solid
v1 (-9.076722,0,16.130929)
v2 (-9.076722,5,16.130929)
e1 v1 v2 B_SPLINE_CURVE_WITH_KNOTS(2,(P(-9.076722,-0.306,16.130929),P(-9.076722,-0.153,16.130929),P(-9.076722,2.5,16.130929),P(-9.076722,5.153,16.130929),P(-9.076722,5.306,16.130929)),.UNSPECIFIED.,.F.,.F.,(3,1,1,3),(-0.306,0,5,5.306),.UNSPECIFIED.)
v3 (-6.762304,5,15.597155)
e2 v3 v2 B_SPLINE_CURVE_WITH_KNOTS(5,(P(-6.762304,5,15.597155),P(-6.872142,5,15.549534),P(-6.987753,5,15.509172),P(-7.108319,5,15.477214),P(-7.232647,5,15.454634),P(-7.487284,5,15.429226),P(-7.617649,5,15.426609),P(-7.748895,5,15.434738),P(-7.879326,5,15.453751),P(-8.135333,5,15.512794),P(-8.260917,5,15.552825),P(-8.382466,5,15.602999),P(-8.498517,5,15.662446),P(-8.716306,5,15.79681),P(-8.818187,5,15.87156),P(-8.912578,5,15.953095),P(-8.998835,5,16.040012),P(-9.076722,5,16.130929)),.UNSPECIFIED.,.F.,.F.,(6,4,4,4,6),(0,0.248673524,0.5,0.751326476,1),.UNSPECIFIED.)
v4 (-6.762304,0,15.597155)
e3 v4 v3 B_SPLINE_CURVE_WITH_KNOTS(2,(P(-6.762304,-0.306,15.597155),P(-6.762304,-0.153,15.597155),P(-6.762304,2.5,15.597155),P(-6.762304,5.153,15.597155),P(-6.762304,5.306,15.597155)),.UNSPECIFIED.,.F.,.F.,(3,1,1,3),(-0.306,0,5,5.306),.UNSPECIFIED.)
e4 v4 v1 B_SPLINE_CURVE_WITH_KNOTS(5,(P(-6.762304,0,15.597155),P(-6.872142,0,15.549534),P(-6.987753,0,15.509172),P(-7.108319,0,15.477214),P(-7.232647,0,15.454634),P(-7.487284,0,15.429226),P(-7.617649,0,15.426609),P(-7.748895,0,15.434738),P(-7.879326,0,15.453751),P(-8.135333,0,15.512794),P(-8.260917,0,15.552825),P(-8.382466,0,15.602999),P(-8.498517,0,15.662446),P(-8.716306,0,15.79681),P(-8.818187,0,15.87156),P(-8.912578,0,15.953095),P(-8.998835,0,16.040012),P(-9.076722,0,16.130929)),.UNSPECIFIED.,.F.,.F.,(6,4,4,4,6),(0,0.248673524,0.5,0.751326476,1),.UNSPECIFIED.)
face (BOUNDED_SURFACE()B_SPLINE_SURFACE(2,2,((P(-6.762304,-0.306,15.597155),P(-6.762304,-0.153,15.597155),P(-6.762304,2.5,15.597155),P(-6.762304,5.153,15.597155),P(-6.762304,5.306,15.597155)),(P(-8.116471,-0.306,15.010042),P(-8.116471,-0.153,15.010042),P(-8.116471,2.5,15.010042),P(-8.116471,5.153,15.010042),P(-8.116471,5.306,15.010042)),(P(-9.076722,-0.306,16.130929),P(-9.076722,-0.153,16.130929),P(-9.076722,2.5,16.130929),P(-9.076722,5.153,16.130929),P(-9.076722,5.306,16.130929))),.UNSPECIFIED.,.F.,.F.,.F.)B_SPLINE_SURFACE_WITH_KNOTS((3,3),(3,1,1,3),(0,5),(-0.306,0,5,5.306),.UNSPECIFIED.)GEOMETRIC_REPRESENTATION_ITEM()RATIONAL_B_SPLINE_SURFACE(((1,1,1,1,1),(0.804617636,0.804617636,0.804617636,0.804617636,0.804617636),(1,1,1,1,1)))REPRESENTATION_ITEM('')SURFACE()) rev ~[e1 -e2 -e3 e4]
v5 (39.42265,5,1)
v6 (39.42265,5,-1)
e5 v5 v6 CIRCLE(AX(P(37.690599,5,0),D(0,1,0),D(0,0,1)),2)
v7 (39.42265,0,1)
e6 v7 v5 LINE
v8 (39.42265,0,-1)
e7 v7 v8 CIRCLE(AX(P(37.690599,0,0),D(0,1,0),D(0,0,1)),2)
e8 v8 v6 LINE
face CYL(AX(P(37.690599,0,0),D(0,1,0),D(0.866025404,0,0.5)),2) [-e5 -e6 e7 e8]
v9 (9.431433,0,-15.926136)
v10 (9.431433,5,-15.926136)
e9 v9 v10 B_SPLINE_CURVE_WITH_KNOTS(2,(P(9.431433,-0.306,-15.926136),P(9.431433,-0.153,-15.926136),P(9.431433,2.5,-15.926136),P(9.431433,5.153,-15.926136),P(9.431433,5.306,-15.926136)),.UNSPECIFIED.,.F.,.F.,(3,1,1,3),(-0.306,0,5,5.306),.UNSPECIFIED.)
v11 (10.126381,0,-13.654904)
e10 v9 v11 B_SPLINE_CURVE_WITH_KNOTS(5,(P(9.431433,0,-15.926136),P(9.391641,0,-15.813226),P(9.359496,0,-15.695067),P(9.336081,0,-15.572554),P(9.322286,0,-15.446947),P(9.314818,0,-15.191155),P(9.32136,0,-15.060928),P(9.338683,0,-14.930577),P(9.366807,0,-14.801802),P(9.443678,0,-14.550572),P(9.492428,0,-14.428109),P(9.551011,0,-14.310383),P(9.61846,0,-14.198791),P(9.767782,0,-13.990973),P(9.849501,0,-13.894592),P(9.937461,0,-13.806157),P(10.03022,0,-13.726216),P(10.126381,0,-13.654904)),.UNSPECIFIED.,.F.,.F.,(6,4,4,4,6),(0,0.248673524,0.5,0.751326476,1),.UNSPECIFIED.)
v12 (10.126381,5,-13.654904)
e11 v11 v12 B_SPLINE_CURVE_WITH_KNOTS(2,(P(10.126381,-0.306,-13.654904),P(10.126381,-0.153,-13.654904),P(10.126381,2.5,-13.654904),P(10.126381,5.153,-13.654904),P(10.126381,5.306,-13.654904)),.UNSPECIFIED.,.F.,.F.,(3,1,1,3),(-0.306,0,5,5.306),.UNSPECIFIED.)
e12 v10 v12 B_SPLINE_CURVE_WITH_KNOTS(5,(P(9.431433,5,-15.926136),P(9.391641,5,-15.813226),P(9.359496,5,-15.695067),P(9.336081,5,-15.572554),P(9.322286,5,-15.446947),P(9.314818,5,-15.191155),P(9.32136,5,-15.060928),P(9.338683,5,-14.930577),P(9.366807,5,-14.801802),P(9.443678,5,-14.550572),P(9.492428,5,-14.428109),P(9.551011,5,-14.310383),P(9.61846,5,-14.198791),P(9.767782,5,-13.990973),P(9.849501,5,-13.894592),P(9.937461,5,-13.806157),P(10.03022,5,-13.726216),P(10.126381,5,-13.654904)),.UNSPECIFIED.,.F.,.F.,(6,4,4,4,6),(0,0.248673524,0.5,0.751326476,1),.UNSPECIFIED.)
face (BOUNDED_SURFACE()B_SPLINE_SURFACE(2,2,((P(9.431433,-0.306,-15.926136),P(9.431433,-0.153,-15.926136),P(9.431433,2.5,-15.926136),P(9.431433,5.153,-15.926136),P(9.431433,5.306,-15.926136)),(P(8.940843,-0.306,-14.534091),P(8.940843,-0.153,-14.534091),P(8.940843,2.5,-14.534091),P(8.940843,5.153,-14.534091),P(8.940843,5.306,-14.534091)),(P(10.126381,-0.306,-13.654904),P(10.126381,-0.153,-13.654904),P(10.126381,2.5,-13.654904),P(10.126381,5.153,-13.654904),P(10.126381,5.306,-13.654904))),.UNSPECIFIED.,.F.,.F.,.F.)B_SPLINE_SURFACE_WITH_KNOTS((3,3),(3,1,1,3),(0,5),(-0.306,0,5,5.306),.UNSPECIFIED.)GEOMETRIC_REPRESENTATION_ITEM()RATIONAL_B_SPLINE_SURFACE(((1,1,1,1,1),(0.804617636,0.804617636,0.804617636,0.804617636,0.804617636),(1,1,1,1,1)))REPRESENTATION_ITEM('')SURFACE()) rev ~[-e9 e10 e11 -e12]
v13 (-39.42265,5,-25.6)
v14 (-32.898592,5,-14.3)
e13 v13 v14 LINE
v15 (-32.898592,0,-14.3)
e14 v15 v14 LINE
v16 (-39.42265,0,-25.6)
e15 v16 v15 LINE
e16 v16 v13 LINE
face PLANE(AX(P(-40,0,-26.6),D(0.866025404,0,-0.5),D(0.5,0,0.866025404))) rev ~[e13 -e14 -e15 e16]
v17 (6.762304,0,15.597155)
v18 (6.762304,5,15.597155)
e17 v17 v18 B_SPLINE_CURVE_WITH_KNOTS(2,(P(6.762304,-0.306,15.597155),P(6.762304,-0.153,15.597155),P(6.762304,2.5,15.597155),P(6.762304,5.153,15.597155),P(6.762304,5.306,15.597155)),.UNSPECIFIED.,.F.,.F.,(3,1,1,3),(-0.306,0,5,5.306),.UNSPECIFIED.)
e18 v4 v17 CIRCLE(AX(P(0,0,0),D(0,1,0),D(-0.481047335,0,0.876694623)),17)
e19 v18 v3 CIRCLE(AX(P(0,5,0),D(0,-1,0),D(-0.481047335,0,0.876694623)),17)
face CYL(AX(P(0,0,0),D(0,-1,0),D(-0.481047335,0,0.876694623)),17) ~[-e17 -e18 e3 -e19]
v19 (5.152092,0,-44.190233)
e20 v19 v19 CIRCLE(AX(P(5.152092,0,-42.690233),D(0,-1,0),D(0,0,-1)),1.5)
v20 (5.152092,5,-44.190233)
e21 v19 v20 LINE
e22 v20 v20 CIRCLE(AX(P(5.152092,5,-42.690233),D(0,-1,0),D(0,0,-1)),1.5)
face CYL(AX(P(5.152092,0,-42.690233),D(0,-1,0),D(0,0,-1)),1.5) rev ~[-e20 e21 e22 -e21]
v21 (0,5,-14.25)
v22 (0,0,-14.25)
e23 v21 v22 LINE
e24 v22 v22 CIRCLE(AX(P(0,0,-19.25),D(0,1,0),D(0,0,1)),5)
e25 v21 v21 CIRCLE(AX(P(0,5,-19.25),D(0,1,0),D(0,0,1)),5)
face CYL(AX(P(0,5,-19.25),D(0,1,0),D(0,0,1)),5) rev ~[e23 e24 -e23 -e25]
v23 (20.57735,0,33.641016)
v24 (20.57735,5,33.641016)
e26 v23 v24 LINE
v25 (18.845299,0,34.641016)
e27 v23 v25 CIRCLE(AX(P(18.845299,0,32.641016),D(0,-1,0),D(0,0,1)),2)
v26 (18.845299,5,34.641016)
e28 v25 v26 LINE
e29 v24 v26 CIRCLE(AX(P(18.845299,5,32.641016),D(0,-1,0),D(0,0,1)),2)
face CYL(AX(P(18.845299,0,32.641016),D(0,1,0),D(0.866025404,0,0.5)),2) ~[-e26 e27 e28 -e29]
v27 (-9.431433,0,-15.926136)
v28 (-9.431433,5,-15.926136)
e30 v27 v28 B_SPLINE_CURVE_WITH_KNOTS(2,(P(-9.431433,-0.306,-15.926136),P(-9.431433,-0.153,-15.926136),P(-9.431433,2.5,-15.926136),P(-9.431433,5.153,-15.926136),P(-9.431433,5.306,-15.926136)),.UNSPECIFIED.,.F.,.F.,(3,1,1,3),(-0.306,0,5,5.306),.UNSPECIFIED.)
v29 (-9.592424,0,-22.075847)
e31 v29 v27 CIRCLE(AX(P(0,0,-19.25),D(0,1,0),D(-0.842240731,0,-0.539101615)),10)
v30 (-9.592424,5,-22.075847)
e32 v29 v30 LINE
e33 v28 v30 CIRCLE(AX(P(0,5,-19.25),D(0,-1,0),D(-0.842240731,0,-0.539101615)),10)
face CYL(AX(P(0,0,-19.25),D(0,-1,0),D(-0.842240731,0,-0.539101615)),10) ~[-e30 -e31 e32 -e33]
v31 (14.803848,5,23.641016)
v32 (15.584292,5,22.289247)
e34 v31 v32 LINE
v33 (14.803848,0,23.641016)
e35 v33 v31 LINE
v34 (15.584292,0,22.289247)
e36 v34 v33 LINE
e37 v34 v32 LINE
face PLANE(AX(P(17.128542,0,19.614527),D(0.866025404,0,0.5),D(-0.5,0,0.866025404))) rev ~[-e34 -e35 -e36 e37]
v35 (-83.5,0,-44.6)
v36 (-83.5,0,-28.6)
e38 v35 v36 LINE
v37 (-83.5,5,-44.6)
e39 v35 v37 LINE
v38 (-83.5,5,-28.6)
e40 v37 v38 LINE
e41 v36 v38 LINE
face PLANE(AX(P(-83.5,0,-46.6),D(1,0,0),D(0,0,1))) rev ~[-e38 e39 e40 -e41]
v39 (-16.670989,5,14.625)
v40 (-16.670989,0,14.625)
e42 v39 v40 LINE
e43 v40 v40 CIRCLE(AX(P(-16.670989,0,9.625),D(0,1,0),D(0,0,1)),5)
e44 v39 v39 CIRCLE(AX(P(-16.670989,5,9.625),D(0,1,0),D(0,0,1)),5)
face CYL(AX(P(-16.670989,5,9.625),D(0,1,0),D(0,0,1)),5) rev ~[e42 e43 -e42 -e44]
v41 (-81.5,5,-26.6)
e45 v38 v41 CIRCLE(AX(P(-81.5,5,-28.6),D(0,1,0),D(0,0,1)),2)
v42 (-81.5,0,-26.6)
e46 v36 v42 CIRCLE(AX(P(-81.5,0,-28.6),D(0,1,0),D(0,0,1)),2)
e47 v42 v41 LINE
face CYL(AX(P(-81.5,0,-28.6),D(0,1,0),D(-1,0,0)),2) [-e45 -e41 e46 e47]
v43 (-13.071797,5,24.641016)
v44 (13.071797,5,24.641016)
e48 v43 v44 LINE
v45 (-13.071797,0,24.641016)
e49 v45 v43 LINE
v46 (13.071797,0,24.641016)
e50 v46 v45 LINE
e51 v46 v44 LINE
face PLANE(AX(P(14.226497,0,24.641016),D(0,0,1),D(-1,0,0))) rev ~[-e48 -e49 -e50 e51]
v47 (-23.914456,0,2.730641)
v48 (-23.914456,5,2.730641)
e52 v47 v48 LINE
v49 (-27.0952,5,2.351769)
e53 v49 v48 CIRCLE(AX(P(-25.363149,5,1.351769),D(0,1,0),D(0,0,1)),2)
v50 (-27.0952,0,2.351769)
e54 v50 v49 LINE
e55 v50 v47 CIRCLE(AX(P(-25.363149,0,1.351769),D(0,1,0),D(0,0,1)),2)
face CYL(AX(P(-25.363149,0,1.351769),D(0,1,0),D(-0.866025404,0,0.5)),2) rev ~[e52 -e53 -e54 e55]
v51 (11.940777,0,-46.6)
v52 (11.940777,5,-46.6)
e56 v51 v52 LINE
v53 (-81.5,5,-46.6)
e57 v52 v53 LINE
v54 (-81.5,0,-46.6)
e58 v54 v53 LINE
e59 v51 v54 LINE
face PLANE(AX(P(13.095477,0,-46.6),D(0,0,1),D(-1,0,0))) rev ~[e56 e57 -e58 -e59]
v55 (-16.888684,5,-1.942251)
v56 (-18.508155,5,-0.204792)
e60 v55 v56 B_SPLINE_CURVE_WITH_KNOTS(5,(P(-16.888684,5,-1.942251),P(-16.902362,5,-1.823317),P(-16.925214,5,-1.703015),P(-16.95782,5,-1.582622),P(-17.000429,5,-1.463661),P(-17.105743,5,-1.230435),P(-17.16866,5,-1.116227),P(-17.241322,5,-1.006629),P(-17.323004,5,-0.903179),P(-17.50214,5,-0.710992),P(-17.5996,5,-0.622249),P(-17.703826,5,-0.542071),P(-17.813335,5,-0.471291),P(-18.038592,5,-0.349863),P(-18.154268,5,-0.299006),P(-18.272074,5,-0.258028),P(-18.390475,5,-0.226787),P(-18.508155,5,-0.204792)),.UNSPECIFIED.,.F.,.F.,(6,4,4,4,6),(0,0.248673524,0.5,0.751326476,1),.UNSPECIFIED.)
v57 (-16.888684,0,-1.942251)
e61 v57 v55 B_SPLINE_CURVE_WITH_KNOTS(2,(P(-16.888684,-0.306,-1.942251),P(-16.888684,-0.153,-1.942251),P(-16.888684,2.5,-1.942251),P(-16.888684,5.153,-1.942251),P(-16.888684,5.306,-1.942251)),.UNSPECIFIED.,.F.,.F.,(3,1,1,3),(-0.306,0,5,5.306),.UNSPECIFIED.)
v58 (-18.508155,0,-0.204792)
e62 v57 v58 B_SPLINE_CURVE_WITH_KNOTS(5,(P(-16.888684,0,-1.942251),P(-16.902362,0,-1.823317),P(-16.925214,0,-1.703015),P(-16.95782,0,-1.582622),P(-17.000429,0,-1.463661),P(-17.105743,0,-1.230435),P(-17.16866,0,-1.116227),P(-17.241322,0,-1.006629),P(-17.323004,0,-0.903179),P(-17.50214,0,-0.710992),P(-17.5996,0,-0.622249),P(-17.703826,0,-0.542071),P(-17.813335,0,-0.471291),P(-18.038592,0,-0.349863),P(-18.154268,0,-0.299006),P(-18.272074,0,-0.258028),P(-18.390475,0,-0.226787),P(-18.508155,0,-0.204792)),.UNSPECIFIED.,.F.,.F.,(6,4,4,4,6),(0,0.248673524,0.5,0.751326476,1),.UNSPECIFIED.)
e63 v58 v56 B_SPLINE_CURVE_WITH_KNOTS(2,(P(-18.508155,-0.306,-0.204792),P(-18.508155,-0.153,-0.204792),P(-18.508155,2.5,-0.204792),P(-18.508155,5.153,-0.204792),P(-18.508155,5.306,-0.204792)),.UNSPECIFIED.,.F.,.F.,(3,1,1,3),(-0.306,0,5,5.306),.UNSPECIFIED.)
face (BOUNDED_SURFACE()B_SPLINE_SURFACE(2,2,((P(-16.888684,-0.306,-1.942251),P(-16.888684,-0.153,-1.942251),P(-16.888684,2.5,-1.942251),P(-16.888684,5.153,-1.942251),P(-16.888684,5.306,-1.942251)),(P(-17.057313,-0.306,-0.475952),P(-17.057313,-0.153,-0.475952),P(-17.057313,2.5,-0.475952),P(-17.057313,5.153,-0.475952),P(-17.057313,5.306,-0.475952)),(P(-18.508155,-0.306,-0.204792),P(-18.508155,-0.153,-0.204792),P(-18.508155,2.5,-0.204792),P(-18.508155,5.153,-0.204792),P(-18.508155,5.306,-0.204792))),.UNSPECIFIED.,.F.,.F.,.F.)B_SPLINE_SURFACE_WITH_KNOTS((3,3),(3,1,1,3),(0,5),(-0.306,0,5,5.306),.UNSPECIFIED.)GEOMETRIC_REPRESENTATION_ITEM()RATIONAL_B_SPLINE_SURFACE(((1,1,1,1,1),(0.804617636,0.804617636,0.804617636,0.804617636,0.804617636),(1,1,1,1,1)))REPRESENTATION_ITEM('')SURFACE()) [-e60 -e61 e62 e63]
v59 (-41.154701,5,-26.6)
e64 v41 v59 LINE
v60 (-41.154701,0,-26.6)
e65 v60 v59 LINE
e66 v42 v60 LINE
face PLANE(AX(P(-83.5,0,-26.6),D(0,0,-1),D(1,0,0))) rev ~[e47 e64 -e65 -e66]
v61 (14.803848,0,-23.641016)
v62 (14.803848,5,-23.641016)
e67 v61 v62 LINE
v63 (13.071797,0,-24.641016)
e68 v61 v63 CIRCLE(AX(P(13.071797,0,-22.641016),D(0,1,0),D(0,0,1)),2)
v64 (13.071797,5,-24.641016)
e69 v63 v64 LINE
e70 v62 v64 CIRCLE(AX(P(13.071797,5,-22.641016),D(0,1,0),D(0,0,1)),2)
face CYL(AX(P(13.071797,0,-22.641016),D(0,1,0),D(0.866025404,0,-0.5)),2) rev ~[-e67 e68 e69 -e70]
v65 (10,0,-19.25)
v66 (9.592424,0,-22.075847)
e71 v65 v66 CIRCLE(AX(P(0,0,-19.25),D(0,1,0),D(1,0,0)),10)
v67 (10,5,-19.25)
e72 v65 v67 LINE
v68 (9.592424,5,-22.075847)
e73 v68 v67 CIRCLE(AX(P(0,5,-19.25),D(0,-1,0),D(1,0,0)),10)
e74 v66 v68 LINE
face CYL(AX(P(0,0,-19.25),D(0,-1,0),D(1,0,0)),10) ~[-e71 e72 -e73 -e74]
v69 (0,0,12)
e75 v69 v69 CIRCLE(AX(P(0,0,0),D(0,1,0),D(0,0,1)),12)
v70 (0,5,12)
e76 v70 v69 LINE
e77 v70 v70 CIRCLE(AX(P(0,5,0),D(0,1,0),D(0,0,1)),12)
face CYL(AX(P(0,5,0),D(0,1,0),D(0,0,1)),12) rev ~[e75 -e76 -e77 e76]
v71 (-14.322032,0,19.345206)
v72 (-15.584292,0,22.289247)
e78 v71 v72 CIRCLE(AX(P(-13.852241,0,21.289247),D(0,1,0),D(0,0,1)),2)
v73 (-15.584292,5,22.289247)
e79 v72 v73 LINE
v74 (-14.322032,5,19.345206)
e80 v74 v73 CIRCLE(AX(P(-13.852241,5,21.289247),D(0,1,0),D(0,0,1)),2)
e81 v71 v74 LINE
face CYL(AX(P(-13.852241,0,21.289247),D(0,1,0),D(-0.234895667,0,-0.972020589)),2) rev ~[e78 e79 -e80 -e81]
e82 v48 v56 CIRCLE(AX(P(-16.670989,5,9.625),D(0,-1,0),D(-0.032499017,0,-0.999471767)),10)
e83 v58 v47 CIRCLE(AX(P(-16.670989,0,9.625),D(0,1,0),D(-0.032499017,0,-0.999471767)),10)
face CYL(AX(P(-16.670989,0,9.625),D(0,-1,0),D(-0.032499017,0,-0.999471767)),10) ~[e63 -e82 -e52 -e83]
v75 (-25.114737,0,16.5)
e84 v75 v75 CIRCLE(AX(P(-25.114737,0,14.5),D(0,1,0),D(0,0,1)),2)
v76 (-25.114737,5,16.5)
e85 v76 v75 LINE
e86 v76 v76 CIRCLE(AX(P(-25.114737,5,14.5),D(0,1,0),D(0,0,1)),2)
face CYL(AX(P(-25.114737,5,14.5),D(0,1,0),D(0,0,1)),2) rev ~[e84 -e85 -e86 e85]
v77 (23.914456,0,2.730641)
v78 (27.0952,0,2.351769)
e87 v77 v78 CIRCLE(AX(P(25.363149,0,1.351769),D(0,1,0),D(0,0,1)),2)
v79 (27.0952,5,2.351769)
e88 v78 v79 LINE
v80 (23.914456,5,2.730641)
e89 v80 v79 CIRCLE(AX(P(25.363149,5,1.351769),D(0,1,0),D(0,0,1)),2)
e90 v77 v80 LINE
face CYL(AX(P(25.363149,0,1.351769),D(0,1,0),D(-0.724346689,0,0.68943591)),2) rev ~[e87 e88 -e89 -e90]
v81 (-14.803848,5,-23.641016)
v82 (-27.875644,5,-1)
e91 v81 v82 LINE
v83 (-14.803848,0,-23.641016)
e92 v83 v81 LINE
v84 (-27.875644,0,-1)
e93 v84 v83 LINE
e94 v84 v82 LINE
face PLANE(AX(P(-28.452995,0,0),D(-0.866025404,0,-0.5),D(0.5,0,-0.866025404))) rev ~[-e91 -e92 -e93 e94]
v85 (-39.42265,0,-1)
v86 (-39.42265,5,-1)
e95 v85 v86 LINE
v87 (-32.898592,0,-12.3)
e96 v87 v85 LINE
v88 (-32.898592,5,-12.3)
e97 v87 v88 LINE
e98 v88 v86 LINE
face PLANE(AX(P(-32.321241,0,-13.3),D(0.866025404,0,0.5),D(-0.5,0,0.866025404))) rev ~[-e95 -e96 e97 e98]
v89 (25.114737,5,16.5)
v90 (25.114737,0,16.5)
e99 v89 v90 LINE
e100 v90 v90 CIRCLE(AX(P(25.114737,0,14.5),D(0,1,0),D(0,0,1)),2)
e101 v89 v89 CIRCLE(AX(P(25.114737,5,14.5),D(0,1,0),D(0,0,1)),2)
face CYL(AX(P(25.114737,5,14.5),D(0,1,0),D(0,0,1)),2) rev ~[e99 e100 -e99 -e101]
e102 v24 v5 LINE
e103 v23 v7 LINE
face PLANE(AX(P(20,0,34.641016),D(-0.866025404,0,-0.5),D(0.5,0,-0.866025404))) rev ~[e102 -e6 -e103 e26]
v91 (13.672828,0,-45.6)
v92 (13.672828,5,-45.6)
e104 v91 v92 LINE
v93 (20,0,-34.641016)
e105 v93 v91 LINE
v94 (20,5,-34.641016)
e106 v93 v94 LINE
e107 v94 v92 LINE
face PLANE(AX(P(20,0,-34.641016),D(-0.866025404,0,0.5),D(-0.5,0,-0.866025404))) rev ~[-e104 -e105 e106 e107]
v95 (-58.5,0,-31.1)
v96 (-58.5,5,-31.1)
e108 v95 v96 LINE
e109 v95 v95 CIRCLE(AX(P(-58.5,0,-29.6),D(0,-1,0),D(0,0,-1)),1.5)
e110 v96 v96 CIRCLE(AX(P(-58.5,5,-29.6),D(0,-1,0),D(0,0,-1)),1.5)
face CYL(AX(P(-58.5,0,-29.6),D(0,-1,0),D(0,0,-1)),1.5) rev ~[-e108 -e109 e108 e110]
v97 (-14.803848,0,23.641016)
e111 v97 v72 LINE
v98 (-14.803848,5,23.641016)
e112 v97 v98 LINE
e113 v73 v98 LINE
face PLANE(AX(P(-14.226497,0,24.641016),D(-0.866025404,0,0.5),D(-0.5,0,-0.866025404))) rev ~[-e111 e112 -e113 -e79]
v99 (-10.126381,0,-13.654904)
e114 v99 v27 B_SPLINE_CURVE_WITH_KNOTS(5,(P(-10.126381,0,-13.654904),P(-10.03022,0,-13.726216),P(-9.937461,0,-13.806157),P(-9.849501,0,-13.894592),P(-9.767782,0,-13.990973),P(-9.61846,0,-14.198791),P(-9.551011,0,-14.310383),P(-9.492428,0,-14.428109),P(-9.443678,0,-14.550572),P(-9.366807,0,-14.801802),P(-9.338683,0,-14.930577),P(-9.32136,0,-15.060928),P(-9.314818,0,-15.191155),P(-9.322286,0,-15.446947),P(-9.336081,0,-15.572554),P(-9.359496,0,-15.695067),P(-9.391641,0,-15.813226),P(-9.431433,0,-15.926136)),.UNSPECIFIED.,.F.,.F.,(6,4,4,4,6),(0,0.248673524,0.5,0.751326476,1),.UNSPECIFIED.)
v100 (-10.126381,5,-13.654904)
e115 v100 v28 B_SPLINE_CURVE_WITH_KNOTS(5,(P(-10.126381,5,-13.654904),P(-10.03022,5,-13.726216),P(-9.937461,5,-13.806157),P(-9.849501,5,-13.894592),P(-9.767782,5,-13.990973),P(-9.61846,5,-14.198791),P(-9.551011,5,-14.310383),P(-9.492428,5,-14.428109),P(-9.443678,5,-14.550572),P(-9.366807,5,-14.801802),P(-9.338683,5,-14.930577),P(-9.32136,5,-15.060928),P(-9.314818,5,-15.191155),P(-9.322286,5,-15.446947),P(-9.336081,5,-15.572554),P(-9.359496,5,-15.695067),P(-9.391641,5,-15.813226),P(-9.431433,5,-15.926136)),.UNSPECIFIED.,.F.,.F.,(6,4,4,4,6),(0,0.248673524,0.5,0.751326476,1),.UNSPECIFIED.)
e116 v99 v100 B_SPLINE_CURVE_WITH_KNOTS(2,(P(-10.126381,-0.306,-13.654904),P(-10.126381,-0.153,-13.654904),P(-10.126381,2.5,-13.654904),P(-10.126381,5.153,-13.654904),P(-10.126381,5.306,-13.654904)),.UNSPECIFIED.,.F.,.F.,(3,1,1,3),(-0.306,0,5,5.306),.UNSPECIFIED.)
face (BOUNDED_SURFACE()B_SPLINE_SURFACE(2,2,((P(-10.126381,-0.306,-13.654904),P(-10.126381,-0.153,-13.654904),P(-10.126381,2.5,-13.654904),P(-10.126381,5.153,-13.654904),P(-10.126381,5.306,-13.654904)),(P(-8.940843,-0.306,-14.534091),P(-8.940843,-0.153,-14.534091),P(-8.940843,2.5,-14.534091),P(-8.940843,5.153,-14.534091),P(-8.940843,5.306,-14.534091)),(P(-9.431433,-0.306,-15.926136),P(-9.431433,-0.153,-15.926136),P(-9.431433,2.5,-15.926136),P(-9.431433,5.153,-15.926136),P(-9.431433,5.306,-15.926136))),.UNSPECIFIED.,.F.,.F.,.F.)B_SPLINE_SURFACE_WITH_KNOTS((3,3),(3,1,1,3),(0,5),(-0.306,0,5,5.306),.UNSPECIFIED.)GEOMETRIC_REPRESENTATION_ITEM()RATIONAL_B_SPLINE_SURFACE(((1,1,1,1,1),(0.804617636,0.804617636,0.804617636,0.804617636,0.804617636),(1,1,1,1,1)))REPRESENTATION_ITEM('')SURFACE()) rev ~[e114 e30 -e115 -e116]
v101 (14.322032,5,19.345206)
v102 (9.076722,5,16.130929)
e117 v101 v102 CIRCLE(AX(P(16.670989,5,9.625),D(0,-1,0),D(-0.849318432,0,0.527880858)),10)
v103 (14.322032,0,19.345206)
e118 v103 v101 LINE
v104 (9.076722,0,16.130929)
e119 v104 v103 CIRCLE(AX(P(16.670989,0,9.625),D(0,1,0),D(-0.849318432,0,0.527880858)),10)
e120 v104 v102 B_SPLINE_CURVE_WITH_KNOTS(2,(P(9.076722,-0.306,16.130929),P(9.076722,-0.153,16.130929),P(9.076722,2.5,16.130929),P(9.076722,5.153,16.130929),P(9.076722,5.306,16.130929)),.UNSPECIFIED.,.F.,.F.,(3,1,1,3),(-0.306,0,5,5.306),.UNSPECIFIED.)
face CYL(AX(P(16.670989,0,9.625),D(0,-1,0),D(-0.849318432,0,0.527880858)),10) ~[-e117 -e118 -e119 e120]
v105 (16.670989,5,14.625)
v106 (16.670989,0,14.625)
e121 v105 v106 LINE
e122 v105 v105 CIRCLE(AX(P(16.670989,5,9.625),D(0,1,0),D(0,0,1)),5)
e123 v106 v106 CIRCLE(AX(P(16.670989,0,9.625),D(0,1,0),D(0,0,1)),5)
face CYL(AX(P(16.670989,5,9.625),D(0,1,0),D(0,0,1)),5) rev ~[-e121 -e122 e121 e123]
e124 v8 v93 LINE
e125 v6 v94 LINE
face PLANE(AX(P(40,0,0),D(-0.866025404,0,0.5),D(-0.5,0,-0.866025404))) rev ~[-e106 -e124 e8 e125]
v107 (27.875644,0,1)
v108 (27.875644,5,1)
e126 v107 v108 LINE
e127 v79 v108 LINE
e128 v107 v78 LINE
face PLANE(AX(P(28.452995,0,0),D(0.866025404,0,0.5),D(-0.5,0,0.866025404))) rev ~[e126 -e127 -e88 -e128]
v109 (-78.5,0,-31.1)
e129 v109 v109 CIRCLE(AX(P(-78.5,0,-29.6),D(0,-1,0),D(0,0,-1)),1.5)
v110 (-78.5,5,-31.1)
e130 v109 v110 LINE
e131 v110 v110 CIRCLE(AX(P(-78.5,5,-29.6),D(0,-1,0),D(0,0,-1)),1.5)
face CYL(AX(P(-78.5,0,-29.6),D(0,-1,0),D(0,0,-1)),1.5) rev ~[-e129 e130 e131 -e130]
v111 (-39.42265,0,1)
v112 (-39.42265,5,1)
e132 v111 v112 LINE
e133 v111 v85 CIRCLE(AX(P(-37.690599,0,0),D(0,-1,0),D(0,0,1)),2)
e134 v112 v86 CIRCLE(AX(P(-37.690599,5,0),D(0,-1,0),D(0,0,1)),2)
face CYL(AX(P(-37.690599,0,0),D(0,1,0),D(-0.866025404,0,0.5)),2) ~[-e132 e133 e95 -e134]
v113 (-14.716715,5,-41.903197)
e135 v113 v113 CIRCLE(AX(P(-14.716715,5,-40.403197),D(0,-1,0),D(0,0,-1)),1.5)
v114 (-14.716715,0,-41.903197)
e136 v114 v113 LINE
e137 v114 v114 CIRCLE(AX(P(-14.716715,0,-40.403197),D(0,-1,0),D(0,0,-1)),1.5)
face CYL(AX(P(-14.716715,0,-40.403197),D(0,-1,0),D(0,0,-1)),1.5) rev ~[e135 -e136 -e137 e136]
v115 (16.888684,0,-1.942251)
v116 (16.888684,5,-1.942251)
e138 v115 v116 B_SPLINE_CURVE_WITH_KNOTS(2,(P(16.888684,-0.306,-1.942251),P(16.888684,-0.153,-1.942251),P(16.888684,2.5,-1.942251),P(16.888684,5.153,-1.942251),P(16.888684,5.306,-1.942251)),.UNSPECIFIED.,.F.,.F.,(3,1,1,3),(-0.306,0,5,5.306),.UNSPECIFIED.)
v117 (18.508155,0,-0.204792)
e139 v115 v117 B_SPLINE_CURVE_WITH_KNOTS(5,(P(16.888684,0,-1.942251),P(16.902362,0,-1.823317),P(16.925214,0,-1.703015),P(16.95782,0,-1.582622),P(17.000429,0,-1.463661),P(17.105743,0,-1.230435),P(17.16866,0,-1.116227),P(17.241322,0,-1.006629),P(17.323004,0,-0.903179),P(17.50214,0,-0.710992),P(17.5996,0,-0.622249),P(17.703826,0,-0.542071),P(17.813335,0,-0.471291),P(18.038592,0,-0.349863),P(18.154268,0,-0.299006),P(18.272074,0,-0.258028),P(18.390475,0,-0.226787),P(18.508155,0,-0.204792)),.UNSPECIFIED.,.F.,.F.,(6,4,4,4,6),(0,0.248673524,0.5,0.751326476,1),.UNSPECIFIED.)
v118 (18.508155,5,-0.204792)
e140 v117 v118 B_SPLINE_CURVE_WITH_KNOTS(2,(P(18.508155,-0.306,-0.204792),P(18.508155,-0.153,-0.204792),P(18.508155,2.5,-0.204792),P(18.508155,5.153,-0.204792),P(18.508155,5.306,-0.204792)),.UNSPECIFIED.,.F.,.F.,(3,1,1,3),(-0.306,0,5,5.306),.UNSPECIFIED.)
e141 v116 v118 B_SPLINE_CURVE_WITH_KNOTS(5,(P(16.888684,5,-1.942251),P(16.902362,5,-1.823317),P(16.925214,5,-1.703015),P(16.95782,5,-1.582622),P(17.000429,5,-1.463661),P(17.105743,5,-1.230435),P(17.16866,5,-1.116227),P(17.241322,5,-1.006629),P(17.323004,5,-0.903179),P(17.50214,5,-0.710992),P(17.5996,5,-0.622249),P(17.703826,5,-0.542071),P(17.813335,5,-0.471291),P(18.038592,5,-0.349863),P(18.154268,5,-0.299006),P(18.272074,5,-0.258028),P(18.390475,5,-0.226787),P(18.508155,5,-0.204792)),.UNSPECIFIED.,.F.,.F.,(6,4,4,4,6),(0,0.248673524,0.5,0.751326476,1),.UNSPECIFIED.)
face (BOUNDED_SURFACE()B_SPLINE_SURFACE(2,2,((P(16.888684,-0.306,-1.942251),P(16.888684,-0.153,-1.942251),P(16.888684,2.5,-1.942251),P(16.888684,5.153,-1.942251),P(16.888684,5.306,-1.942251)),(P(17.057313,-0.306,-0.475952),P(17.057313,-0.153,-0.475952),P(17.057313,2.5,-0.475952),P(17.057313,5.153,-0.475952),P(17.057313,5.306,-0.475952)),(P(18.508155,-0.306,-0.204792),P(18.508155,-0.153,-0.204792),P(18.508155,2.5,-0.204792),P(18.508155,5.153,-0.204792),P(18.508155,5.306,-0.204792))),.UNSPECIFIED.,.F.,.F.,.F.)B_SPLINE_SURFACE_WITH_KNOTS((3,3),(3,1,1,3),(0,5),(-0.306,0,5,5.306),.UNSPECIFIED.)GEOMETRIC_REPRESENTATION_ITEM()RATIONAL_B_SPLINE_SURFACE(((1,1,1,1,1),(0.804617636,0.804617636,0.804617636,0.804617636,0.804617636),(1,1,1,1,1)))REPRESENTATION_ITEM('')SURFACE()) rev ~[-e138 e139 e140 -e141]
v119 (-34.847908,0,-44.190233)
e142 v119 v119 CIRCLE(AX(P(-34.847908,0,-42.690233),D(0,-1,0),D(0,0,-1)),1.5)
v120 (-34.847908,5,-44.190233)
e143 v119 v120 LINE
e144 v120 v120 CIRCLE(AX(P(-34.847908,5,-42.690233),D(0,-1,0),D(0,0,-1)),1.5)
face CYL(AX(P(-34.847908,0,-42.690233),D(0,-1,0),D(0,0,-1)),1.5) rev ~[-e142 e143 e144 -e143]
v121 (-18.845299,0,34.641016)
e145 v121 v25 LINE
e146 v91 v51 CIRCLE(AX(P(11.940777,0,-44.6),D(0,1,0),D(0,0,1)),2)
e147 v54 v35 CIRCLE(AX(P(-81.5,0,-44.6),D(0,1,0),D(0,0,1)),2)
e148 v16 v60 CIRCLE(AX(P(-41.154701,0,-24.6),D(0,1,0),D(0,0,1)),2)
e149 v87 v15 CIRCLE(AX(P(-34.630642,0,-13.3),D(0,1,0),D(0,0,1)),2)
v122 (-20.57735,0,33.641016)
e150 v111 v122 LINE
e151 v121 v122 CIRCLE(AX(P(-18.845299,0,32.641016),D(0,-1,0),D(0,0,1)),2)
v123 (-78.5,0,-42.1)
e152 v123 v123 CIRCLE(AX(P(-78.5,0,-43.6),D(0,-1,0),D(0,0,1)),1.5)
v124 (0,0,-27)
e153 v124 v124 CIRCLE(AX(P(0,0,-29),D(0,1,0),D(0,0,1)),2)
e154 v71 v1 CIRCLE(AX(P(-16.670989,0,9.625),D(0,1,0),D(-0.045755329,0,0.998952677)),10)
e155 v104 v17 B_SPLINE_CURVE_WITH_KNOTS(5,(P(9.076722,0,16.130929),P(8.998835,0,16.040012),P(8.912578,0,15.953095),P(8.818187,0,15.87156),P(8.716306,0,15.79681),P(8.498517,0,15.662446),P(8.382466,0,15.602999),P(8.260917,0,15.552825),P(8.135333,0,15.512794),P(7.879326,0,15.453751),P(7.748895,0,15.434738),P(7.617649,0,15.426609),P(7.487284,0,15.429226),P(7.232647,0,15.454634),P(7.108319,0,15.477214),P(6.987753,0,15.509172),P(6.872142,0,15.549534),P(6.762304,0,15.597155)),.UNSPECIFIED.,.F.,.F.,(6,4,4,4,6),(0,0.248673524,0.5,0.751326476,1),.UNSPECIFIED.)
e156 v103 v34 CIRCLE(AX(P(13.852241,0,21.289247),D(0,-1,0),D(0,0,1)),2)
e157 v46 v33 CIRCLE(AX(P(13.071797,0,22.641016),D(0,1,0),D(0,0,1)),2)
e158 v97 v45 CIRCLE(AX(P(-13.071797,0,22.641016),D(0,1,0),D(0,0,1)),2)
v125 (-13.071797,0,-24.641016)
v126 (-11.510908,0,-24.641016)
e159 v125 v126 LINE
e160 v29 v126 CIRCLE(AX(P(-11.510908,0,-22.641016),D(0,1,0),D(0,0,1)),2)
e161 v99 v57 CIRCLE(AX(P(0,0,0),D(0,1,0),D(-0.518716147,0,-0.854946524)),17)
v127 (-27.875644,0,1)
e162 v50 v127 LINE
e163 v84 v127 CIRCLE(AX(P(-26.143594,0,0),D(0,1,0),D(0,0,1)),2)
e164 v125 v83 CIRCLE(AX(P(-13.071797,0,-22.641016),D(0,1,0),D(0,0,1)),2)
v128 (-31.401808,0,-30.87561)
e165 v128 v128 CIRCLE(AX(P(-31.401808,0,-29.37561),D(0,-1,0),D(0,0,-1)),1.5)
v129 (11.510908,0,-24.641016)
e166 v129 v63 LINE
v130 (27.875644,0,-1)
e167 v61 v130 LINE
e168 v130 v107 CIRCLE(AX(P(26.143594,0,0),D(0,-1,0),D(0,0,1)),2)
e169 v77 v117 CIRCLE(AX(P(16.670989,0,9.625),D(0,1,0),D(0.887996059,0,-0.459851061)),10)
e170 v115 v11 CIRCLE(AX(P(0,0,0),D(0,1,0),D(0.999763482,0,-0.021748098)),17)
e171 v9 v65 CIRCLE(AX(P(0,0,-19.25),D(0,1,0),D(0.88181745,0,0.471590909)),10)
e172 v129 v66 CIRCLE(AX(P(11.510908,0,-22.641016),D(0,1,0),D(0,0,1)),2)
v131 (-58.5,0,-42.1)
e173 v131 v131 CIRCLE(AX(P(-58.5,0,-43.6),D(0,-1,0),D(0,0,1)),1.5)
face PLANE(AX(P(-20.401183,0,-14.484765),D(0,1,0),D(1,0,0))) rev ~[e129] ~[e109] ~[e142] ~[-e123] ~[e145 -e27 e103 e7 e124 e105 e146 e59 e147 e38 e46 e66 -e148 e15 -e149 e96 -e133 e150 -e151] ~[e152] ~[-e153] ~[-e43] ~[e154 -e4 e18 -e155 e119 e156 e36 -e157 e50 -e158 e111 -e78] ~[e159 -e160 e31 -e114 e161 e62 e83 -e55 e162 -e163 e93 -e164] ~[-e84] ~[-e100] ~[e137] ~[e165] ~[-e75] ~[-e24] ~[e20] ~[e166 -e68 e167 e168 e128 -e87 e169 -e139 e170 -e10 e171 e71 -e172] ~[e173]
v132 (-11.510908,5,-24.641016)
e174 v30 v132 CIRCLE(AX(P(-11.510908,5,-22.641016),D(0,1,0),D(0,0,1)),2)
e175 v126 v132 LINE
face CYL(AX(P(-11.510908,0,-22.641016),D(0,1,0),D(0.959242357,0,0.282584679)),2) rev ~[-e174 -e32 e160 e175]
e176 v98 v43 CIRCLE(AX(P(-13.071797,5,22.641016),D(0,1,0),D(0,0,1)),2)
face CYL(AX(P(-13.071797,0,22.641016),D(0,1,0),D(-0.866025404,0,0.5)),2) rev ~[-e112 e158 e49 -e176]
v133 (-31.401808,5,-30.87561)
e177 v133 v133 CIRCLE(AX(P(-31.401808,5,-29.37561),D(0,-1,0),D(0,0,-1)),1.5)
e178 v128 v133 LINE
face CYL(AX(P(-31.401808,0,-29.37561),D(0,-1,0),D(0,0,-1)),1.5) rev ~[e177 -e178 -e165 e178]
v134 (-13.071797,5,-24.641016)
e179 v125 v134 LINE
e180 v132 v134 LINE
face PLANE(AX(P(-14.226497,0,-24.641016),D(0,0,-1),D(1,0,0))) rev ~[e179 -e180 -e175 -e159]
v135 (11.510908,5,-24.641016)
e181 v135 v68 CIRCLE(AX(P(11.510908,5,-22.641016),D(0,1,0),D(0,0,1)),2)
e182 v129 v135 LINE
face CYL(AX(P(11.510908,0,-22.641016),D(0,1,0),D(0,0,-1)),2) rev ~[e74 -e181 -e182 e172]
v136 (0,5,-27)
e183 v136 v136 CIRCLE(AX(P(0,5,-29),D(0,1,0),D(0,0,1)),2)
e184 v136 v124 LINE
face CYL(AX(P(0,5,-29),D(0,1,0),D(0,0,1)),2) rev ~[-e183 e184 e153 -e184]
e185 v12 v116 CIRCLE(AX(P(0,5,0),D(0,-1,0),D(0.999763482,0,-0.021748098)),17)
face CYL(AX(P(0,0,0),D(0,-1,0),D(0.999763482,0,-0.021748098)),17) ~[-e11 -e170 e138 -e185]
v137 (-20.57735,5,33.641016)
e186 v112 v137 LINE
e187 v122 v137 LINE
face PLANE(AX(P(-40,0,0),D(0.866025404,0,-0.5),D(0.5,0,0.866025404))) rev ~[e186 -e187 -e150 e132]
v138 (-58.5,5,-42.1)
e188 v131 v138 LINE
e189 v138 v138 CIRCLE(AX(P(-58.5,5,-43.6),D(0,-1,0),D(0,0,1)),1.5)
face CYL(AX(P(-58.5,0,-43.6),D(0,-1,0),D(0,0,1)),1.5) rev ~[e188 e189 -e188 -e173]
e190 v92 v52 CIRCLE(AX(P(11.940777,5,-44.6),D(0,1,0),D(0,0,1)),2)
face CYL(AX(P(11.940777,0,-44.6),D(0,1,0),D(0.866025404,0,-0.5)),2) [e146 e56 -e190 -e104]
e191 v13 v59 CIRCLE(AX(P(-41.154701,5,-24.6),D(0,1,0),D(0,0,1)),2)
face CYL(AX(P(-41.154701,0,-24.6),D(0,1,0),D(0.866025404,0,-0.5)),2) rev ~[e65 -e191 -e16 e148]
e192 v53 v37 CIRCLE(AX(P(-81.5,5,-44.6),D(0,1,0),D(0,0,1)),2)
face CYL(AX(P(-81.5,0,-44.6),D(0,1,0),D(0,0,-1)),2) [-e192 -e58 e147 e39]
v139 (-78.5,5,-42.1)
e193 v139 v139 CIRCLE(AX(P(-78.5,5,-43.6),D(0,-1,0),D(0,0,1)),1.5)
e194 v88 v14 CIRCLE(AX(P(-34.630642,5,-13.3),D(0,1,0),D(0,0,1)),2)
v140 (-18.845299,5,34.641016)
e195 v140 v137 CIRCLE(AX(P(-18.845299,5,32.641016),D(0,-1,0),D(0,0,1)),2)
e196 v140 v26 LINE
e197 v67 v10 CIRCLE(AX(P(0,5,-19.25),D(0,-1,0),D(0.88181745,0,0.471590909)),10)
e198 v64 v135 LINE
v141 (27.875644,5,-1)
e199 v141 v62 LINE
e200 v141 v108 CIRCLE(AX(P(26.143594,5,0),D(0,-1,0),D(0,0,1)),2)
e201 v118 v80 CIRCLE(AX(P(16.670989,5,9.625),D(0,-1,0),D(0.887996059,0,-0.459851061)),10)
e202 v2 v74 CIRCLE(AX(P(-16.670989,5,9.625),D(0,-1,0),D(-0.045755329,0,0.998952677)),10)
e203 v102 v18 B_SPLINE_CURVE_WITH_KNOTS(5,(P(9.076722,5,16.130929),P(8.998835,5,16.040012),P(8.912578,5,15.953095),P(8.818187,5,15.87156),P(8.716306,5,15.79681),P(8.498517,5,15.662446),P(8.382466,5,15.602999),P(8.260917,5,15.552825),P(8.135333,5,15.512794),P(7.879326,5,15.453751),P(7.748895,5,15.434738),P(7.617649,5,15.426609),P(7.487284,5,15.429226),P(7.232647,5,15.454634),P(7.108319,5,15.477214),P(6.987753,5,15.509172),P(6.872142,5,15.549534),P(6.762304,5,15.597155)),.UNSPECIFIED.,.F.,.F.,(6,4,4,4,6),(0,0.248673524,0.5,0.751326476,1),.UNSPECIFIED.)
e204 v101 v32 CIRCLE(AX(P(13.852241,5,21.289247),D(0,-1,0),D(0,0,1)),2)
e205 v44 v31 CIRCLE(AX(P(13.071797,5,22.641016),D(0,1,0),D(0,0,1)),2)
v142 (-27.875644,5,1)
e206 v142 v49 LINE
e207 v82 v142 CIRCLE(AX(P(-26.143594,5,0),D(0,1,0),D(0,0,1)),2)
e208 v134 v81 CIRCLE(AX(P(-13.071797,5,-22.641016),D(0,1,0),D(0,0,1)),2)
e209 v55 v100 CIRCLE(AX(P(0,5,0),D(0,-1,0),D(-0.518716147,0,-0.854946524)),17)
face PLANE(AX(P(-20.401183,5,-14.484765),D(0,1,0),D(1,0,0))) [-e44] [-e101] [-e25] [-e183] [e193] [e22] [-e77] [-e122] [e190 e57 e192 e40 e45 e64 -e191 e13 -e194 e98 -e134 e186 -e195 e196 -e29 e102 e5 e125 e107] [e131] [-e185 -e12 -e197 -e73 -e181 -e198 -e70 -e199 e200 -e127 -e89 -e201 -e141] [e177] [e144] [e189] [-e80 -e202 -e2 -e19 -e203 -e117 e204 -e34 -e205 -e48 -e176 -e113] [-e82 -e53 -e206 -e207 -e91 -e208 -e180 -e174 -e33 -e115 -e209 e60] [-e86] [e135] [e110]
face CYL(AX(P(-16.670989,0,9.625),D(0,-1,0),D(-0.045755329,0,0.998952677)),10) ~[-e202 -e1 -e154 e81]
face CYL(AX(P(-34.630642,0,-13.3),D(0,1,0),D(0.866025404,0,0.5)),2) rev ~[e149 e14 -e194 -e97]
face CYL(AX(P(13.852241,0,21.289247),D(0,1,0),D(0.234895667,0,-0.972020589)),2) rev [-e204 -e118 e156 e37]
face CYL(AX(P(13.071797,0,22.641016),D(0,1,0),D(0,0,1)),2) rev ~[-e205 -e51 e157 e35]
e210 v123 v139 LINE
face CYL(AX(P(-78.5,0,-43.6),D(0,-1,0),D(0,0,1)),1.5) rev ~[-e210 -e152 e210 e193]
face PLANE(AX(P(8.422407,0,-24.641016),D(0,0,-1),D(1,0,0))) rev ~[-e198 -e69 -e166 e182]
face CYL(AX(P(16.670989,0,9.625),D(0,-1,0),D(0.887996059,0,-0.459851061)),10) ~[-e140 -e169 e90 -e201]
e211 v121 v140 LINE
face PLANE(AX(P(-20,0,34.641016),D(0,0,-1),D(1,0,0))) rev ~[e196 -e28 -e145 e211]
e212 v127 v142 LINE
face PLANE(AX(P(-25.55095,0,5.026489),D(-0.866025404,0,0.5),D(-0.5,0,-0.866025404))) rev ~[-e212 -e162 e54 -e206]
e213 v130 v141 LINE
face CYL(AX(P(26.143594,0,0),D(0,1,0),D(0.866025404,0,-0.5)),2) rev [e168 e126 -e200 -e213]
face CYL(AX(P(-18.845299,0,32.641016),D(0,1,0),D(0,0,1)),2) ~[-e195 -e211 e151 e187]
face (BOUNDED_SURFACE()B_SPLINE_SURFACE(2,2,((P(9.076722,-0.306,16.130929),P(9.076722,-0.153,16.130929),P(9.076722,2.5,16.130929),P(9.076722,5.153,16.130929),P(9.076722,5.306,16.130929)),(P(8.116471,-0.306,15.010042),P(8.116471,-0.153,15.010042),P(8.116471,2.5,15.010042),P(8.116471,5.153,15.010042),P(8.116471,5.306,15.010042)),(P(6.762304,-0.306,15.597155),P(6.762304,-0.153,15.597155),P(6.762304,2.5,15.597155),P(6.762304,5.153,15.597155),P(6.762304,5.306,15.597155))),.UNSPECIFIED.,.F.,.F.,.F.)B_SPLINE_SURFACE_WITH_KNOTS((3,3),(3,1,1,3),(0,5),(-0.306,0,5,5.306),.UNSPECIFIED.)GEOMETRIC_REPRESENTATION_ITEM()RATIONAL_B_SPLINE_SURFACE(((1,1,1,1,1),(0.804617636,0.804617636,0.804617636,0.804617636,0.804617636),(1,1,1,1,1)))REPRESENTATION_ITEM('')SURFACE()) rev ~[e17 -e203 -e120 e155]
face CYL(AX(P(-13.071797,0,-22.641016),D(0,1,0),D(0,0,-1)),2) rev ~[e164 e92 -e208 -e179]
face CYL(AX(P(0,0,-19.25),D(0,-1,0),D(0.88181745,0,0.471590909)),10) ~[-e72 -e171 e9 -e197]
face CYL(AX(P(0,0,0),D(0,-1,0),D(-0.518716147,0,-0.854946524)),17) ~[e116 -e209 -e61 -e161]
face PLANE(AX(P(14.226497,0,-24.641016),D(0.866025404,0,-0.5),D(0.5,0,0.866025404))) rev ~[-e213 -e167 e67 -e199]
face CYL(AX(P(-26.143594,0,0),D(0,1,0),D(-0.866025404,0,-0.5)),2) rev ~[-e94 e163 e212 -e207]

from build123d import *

# Parameters (mm, degrees)
EXTRUDE_1_DEPTH     = 5
SKETCH_2_R          = 2
SKETCH_2_R_2        = 5
SKETCH_2_R_3        = 12
CUT_EXTRUDE_1_DEPTH = 96.753903315
SKETCH_3_R          = 1.5
CUT_EXTRUDE_2_DEPTH = 96.753903315
CUT_EXTRUDE_4_DEPTH = 96.753903315
FILLET_1_R          = 2
FILLET_2_R          = 2
SKETCH_5_R          = 1.5
CUT_EXTRUDE_5_DEPTH = 10


with BuildPart() as part:
    # 草图1 → 凸台-拉伸1 (new body)
    with BuildSketch(Plane(origin=(0, 0, 0), x_dir=(1, 0, 0), z_dir=(0, 1, 0))):
        Polygon((20, -34.641016151), (40, 0), (20, 34.641016151), (13.095477456, 46.6), (-83.5, 46.6), (-83.5, 26.6), (-40, 26.6), (-32.32124142, 13.3), (-40, 0), (-20, -34.641016151), align=None)
    extrude(amount=EXTRUDE_1_DEPTH)

    # 草图2 → 切除-拉伸1 (cut, through all)
    with BuildSketch(Plane(origin=(0, 5, 0), x_dir=(1, 0, 0), z_dir=(0, 1, 0))):
        with Locations(Location((0, 29, 0), (0, 0, 270))):
            Circle(SKETCH_2_R)
        with Locations(Location((25.11473671, -14.5, 0), (0, 0, 270))):
            Circle(SKETCH_2_R)
        with Locations(Location((-25.11473671, -14.5, 0), (0, 0, 270))):
            Circle(SKETCH_2_R)
        with Locations(Location((0, 19.25, 0), (0, 0, 270))):
            Circle(SKETCH_2_R_2)
        with Locations(Location((0, 0, 0), (0, 0, 270))):
            Circle(SKETCH_2_R_3)
        with Locations(Location((16.670989023, -9.625, 0), (0, 0, 270))):
            Circle(SKETCH_2_R_2)
        with Locations(Location((-16.670989023, -9.625, 0), (0, 0, 270))):
            Circle(SKETCH_2_R_2)
    extrude(amount=-CUT_EXTRUDE_1_DEPTH, mode=Mode.SUBTRACT)

    # 草图3 → 切除-拉伸2 (cut, through all)
    with BuildSketch(Plane.XZ):
        with Locations(Location((-78.5, -29.6, 0), (0, 0, 270))):
            Circle(SKETCH_3_R)
        with Locations(Location((-58.5, -29.6, 0), (0, 0, 270))):
            Circle(SKETCH_3_R)
        with Locations(Location((-58.5, -43.6, 0), (0, 0, 90))):
            Circle(SKETCH_3_R)
        with Locations(Location((-78.5, -43.6, 0), (0, 0, 90))):
            Circle(SKETCH_3_R)
    extrude(amount=-CUT_EXTRUDE_2_DEPTH, mode=Mode.SUBTRACT)

    # 草图4 → 切除-拉伸4 (cut, through all)
    with BuildSketch(Plane.XZ):
        with BuildLine():
            ThreePointArc((-16.995979196, -0.369717674), (-22.006018762, 1.167018108), (-25.550949616, 5.026489386))
            Line((-25.550949616, 5.026489386), (-28.452994616, 0))
            Line((-28.452994616, 0), (-14.226497308, -24.641016151))
            Line((-14.226497308, -24.641016151), (-8.422407308, -24.641016151))
            ThreePointArc((-8.422407308, -24.641016151), (-9.992342053, -19.641280338), (-8.818174496, -14.534090909))
            ThreePointArc((-8.818174496, -14.534090909), (-14.722431864, -8.5), (-16.995979196, -0.369717674))
        make_face()
        with BuildLine():
            Line((28.452994616, 0), (25.550949616, 5.026489386))
            ThreePointArc((25.550949616, 5.026489386), (22.006018762, 1.167018108), (16.995979196, -0.369717674))
            ThreePointArc((16.995979196, -0.369717674), (14.722431864, -8.5), (8.818174496, -14.534090909))
            ThreePointArc((8.818174496, -14.534090909), (9.700044973, -16.819130296), (10, -19.25))
            ThreePointArc((10, -19.25), (9.597501578, -22.058551844), (8.422407308, -24.641016151))
            Line((8.422407308, -24.641016151), (14.226497308, -24.641016151))
            Line((14.226497308, -24.641016151), (28.452994616, 0))
        make_face()
        with BuildLine():
            Line((17.128542308, 19.614526765), (14.226497308, 24.641016151))
            Line((14.226497308, 24.641016151), (-14.226497308, 24.641016151))
            Line((-14.226497308, 24.641016151), (-17.128542308, 19.614526765))
            ThreePointArc((-17.128542308, 19.614526765), (-12.013676709, 18.47426223), (-8.1778047, 14.903808583))
            ThreePointArc((-8.1778047, 14.903808583), (0, 17), (8.1778047, 14.903808583))
            ThreePointArc((8.1778047, 14.903808583), (12.013676709, 18.47426223), (17.128542308, 19.614526765))
        make_face()
    extrude(amount=-CUT_EXTRUDE_4_DEPTH, mode=Mode.SUBTRACT)

    # 圆角1
    fillet_1_edges = [part.edges().sort_by_distance(p)[0] for p in [
        (-8.1778047, 2.5, 14.903808583),
        (-17.128542308, 2.5, 19.614526765),
        (-14.226497308, 2.5, 24.641016151),
        (14.226497308, 2.5, 24.641016151),
        (17.128542308, 2.5, 19.614526765),
        (8.1778047, 2.5, 14.903808583),
        (16.995979196, 2.5, -0.369717674),
        (25.550949616, 2.5, 5.026489386),
        (28.452994616, 2.5, 0),
        (14.226497308, 2.5, -24.641016151),
        (8.422407308, 2.5, -24.641016151),
        (8.818174496, 2.5, -14.534090909),
        (-25.550949616, 2.5, 5.026489386),
        (-16.995979196, 2.5, -0.369717674),
        (-8.818174496, 2.5, -14.534090909),
        (-8.422407308, 2.5, -24.641016151),
        (-14.226497308, 2.5, -24.641016151),
        (-28.452994616, 2.5, 0),
    ]]
    fillet(fillet_1_edges, radius=FILLET_1_R)

    # 圆角2
    fillet_2_edges = [part.edges().sort_by_distance(p)[0] for p in [
        (-20, 2.5, 34.641016151),
        (-40, 2.5, 0),
        (-32.32124142, 2.5, -13.3),
        (-40, 2.5, -26.6),
        (-83.5, 2.5, -26.6),
        (-83.5, 2.5, -46.6),
        (13.095477456, 2.5, -46.6),
        (40, 2.5, 0),
        (20, 2.5, 34.641016151),
    ]]
    fillet(fillet_2_edges, radius=FILLET_2_R)

    # 草图5 → 切除-拉伸5 (cut)
    with BuildSketch(Plane.XZ):
        with Locations(Location((-31.401807915, -29.375609946, 0), (0, 0, 270))):
            Circle(SKETCH_5_R)
        with Locations(Location((-14.716714858, -40.403196703, 0), (0, 0, 270))):
            Circle(SKETCH_5_R)
        with Locations(Location((5.152091527, -42.690232523, 0), (0, 0, 270))):
            Circle(SKETCH_5_R)
        with Locations(Location((-34.847908473, -42.690232523, 0), (0, 0, 270))):
            Circle(SKETCH_5_R)
    extrude(amount=-CUT_EXTRUDE_5_DEPTH, mode=Mode.SUBTRACT)


solid = part.part
